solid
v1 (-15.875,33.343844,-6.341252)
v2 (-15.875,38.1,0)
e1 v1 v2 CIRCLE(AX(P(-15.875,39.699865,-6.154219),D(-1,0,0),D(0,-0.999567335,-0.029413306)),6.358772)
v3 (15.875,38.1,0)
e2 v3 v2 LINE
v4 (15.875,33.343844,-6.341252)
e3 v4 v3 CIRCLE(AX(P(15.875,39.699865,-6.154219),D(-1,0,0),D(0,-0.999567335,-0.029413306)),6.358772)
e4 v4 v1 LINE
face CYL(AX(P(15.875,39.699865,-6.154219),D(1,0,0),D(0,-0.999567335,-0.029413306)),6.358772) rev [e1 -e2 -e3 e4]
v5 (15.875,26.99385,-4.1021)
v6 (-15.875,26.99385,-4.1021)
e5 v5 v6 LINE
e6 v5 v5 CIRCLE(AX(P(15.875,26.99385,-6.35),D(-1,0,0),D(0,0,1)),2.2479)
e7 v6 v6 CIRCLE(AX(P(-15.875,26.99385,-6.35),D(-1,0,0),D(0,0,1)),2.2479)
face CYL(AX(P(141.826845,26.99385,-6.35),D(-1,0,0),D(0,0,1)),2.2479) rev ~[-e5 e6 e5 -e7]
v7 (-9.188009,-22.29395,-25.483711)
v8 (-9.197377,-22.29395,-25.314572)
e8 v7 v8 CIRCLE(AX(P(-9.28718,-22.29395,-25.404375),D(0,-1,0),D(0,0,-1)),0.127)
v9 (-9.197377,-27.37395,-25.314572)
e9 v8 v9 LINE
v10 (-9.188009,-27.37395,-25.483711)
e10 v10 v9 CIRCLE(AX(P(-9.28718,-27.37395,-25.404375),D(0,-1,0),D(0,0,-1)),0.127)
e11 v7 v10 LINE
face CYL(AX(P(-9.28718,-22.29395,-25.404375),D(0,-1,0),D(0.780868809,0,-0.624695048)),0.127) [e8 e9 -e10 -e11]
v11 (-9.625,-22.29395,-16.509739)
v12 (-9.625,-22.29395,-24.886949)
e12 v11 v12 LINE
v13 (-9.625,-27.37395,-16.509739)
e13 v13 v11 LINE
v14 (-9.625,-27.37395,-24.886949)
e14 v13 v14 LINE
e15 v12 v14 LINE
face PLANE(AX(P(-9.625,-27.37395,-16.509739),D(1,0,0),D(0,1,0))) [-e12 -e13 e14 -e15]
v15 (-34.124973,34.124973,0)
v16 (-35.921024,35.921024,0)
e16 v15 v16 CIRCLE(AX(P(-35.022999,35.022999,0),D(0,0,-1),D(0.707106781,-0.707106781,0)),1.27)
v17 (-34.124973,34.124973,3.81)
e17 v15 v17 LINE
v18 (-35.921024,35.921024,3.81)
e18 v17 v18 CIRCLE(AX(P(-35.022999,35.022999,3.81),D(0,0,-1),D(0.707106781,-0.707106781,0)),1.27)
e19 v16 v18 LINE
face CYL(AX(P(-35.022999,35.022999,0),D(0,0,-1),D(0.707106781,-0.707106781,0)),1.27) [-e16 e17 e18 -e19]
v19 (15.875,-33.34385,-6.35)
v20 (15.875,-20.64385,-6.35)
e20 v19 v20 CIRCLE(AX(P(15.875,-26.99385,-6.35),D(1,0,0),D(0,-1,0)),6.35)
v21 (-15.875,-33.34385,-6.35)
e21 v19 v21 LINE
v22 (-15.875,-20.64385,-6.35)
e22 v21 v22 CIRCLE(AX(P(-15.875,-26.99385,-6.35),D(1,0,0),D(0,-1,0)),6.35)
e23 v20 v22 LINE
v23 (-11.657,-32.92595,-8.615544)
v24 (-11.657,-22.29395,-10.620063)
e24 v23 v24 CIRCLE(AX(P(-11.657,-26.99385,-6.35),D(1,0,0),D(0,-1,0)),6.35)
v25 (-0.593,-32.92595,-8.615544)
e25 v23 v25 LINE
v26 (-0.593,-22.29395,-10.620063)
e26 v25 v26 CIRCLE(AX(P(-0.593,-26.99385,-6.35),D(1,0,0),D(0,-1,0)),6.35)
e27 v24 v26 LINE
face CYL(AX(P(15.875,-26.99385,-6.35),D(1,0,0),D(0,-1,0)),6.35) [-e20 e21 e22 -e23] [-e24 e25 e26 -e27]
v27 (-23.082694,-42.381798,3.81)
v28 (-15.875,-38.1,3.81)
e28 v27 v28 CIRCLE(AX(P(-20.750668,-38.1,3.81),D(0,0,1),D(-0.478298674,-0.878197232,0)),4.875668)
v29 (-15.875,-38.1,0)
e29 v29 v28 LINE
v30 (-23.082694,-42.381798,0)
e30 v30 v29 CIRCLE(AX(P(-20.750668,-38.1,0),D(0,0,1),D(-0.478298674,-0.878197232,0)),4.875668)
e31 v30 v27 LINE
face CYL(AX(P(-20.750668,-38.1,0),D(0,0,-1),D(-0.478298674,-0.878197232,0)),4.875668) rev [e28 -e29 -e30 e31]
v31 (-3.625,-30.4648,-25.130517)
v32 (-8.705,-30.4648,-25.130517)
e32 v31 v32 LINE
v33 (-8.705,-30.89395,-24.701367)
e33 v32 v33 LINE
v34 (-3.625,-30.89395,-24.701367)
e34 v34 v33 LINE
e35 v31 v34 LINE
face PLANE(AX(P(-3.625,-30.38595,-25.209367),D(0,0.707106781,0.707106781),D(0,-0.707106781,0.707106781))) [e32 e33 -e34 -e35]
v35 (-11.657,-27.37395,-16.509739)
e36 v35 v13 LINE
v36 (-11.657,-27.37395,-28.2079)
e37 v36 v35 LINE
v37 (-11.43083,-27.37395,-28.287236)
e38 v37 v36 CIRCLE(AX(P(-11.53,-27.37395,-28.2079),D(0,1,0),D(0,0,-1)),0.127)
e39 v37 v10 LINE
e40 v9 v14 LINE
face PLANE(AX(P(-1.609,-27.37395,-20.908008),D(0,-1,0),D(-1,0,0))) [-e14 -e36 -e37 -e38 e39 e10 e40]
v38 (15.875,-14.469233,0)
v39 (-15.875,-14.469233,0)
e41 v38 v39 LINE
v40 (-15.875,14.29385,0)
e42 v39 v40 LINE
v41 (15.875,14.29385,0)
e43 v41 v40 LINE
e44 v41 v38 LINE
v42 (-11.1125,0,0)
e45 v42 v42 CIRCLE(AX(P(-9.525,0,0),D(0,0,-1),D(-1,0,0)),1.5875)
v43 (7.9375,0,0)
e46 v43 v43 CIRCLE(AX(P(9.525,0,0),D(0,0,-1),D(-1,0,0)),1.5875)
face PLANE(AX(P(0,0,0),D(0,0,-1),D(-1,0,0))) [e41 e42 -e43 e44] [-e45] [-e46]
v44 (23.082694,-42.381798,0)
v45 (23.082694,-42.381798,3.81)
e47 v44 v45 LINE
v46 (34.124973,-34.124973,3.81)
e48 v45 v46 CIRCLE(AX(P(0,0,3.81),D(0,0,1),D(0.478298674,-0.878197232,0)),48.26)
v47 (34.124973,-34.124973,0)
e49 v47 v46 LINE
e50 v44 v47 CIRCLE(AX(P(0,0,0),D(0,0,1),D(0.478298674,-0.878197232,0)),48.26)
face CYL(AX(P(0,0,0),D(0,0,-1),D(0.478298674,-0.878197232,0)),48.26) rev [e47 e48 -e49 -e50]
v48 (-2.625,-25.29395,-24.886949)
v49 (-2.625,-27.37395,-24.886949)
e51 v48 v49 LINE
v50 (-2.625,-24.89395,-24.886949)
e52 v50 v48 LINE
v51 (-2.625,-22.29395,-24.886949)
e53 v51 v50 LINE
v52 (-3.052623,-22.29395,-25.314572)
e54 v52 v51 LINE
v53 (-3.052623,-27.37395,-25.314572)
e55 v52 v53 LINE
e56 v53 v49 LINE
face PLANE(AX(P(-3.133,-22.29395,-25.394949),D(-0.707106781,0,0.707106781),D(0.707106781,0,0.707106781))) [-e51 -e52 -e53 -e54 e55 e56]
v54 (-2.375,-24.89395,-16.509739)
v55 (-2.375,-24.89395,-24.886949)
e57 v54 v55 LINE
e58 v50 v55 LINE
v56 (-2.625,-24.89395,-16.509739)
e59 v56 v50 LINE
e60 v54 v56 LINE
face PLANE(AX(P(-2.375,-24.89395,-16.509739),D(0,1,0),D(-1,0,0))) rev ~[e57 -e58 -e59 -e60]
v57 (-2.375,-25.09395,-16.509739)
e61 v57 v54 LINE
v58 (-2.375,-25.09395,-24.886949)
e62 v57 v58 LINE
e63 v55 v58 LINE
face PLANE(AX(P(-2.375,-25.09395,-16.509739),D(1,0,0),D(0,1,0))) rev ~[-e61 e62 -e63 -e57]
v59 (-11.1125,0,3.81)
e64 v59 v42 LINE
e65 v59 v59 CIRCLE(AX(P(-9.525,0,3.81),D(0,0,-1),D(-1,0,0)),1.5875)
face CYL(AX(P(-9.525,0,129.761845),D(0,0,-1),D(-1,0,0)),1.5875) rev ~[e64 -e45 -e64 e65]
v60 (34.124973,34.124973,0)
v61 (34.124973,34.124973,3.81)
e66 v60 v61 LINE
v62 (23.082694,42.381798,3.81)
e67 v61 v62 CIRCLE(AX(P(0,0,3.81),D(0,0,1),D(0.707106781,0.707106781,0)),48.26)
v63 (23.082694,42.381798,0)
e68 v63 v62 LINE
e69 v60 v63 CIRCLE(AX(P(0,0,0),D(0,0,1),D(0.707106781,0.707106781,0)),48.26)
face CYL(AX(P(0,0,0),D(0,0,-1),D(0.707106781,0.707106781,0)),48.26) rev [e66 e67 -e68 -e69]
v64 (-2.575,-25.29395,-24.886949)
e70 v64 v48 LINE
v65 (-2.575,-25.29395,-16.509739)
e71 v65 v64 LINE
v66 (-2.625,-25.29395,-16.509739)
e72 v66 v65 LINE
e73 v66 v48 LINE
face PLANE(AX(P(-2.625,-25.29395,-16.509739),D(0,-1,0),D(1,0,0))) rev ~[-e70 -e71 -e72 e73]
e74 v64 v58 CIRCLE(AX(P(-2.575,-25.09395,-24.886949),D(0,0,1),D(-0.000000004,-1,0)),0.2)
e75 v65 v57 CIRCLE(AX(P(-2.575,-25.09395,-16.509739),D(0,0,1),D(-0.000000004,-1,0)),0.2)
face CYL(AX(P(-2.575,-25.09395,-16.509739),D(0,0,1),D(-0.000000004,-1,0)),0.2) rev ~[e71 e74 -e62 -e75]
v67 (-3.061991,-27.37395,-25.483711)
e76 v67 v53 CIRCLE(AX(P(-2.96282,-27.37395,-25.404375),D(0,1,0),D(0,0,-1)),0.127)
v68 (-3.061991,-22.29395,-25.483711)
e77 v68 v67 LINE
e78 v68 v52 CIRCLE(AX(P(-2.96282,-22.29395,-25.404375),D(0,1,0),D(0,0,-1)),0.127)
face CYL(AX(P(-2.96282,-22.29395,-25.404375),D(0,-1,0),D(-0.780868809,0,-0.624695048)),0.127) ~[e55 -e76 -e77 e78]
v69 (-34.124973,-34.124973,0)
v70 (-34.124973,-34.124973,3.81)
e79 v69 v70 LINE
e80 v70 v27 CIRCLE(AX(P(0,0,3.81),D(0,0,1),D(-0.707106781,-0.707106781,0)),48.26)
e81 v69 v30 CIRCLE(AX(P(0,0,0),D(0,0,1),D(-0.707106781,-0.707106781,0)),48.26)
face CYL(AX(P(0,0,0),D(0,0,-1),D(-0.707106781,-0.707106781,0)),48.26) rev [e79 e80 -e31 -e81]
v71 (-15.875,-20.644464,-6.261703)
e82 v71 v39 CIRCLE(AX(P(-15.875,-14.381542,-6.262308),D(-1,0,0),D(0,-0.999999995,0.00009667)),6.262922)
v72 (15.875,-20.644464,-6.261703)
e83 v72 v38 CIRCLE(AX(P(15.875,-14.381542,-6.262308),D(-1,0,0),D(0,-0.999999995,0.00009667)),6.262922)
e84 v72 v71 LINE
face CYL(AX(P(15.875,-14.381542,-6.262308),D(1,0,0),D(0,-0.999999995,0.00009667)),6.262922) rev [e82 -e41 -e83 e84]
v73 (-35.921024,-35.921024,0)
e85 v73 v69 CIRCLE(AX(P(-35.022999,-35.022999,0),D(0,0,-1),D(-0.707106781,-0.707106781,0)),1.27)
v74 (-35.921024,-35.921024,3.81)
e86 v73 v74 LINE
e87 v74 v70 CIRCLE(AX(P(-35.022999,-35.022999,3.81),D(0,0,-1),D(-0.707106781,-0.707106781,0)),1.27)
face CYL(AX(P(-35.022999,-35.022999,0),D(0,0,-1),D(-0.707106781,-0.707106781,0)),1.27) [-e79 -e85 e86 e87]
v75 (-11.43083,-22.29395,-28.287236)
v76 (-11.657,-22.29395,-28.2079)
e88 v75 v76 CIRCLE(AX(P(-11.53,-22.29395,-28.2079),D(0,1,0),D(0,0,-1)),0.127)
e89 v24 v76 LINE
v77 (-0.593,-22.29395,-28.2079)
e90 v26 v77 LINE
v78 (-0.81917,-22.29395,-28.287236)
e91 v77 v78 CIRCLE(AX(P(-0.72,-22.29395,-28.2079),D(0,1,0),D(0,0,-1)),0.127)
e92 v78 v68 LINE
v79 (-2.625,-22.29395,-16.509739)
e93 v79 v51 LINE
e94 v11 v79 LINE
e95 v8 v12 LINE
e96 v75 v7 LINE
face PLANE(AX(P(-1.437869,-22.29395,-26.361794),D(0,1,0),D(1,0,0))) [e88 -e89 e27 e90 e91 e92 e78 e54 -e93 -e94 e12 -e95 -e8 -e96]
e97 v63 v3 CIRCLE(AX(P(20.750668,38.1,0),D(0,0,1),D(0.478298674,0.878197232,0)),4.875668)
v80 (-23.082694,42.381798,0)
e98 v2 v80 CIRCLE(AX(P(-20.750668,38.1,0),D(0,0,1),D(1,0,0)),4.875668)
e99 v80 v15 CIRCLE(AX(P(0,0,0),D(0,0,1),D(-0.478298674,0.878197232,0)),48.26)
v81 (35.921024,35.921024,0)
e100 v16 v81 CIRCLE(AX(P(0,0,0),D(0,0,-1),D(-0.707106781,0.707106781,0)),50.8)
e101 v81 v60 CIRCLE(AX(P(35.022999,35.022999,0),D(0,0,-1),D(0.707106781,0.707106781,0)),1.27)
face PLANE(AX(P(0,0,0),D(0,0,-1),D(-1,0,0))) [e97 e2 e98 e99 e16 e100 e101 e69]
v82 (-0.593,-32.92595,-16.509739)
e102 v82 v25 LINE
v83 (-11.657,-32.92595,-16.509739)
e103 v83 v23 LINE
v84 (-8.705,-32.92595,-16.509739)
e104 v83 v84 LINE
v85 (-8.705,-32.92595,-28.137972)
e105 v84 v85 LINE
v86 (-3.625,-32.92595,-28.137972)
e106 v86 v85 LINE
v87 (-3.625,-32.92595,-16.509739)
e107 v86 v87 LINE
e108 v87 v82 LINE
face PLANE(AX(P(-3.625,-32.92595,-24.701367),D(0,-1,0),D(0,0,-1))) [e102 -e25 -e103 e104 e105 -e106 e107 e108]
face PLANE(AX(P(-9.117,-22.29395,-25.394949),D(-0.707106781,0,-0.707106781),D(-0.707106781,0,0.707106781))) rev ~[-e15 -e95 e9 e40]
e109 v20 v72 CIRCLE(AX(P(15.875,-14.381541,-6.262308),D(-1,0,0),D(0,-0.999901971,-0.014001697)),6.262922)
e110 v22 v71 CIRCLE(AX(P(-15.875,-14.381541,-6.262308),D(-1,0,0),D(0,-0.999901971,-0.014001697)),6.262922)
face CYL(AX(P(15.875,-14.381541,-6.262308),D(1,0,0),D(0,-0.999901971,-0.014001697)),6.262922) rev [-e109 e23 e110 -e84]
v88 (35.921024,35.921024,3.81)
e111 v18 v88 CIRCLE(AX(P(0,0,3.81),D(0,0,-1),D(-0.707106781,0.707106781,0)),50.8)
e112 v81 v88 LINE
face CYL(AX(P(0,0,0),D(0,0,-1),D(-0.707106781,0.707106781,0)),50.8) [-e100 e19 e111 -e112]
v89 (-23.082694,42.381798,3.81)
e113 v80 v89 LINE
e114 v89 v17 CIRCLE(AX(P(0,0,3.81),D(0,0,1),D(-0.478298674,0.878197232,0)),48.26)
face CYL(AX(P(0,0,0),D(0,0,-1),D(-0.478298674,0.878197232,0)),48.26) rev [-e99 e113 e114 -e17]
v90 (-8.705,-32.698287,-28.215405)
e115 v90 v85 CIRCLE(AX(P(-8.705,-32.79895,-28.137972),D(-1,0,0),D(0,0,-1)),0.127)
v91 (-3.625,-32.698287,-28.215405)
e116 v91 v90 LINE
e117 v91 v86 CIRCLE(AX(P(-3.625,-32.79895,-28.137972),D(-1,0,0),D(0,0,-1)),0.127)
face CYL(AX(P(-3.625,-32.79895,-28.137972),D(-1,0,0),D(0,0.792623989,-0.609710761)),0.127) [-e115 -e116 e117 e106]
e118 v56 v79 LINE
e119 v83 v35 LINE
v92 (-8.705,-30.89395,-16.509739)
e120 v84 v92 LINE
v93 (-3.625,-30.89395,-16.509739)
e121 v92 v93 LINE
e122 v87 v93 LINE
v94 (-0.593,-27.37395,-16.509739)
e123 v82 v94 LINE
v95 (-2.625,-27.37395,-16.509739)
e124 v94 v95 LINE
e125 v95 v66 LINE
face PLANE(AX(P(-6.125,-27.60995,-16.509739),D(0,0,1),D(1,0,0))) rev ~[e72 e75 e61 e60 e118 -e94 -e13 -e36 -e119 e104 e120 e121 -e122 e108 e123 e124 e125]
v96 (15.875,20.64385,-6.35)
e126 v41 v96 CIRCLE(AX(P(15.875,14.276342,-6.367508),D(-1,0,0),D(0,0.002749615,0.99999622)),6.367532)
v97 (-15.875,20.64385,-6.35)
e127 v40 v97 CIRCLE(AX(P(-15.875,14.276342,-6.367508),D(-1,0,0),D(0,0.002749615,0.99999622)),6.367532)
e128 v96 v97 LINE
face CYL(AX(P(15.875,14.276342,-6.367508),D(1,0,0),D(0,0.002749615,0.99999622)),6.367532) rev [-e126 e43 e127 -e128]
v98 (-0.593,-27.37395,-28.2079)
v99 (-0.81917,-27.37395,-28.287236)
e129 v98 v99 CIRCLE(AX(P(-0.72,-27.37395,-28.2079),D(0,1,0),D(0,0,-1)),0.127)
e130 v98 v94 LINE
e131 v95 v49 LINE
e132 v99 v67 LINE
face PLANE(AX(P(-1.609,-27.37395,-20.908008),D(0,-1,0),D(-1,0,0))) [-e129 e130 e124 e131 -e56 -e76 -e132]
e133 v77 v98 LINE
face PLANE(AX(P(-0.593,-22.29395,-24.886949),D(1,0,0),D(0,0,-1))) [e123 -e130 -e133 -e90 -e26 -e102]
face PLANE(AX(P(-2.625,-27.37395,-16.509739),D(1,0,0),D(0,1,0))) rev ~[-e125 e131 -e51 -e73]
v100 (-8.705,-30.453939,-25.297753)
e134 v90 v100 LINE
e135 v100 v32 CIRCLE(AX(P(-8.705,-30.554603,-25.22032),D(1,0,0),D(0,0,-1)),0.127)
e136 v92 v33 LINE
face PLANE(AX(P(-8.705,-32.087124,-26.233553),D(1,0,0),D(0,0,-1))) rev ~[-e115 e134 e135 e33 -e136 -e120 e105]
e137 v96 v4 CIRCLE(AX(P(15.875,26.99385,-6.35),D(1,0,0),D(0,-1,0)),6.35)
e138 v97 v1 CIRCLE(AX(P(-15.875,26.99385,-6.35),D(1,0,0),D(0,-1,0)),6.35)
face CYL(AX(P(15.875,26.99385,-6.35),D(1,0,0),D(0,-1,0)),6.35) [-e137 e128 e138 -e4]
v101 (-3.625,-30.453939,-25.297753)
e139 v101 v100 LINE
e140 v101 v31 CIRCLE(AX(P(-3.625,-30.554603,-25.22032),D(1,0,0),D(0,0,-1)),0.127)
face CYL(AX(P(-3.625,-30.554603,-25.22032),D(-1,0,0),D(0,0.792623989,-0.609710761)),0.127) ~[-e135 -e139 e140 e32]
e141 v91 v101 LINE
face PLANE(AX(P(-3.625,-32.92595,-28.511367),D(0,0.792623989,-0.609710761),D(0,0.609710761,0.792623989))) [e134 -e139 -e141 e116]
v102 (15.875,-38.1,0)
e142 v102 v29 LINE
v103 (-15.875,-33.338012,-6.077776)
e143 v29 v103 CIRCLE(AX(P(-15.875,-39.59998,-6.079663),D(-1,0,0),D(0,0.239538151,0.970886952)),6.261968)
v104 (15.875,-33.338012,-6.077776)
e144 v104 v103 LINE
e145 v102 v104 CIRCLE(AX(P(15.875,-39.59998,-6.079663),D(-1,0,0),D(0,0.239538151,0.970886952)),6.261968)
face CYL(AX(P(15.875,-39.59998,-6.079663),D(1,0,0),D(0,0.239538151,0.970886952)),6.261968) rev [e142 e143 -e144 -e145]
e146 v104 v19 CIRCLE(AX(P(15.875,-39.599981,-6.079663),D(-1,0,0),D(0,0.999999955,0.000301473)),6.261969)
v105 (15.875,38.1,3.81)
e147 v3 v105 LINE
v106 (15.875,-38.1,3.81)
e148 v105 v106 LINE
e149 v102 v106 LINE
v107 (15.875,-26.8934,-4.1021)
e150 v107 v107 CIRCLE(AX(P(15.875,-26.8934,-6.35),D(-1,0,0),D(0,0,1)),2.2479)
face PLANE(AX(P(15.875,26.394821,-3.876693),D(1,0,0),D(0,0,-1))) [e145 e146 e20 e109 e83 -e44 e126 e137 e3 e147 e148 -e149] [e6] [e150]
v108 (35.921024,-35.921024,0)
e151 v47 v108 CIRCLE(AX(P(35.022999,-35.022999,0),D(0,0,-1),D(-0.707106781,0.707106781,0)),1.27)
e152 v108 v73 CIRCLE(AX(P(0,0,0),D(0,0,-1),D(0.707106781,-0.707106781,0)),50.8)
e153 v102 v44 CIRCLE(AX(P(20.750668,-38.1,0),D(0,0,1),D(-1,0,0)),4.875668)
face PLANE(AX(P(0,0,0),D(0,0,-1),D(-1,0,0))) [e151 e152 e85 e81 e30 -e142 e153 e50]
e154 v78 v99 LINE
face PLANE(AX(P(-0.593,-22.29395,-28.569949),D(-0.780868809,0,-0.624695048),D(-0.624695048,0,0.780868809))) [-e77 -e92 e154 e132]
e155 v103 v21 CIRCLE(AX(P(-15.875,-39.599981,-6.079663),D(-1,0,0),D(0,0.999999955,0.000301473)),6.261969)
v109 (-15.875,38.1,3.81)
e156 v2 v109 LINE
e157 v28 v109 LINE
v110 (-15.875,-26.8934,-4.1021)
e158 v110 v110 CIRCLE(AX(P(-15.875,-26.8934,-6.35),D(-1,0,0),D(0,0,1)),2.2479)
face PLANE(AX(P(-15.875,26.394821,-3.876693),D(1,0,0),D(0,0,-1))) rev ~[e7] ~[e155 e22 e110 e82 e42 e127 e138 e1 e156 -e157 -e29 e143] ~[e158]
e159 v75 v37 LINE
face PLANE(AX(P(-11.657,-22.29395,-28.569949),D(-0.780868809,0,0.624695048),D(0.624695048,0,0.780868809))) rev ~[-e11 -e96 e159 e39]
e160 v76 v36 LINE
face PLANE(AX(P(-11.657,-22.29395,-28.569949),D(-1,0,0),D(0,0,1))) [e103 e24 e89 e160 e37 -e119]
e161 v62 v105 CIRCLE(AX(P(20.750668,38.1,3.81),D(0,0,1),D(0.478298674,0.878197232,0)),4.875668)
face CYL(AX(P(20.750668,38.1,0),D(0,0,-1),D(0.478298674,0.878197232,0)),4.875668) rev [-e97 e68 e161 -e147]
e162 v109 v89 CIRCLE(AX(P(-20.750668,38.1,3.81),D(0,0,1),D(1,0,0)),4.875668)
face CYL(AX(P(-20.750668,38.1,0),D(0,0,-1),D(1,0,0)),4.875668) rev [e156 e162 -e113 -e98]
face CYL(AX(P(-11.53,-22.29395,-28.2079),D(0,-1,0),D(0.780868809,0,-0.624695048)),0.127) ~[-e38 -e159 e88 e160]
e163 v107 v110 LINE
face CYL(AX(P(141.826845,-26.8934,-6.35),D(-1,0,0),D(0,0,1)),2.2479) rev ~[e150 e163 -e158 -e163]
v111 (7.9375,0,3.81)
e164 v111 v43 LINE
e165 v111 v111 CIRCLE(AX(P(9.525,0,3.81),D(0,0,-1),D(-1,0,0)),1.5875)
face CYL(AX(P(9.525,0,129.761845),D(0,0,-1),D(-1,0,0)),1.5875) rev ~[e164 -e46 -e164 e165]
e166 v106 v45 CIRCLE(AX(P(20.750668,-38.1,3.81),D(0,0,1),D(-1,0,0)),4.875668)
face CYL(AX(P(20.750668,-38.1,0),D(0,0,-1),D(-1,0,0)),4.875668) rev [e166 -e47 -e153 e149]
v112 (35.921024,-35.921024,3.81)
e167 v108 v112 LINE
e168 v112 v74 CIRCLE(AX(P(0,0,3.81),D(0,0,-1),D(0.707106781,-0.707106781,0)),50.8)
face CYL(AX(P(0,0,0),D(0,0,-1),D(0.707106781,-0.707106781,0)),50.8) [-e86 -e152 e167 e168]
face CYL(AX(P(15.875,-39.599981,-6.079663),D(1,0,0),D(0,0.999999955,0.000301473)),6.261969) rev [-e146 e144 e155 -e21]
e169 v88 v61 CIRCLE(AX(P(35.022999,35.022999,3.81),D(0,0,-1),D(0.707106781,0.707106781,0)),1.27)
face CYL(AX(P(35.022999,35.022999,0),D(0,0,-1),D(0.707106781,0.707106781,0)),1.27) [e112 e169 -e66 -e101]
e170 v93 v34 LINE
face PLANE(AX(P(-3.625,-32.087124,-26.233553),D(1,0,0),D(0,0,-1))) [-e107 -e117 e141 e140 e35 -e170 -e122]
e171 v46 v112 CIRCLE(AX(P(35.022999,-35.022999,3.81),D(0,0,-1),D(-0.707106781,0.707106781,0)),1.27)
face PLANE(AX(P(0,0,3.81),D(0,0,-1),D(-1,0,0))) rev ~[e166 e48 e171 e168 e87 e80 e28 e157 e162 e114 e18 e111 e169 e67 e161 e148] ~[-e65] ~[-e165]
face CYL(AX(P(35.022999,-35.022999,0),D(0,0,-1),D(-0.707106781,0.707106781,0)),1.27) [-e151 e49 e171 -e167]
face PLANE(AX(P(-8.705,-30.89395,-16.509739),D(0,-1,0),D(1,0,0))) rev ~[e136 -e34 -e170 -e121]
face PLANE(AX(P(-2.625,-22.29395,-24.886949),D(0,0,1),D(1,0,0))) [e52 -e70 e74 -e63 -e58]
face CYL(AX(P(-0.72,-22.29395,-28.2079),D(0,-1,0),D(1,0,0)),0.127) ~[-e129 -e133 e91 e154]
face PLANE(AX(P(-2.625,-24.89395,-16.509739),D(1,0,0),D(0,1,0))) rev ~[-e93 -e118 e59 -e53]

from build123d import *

# Parameters (mm, degrees)
BOSS_EXTRUDE2_DEPTH                 = 3.81
BOSS_EXTRUDE4_DEPTH                 = 31.75
F_8_CLEARANCE_HOLE1_D               = 4.4958
PARACHUTE_SHROUD_HOLE_LOW_PROFILE_D = 3.175
MONOFILAMENT_HOLE_LOW_PROFILE_D     = 3.175
BOSS_EXTRUDE7_REACH                 = 67.656
SKETCH21_W                          = 2.032
SKETCH21_H                          = 5.08
SKETCH21_W_2                        = 5.08
SKETCH21_H_2                        = 2.032
SKETCH22_W                          = 11.064
SKETCH22_H                          = 10.632
BOSS_EXTRUDE8_DEPTH                 = 7.894195
BOSS_EXTRUDE9_REACH                 = 87.468
BOSS_EXTRUDE10_DEPTH                = 5.08
FILLET3_R                           = 0.127


with BuildPart() as part:
    # Sketch3 → Boss-Extrude2 (new body)
    with BuildSketch(Plane.XY):
        with BuildLine():
            Line((-15.875, -38.1), (-15.875, 38.1))
            ThreePointArc((-15.875, 38.1), (-18.260491841, 42.291797068), (-23.082694008, 42.38179842))
            ThreePointArc((-23.082694008, 42.38179842), (-28.900226452, 38.649767283), (-34.12497326, 34.12497326))
            ThreePointArc((-34.12497326, 34.12497326), (-35.921024484, 34.12497326), (-35.921024484, 35.921024484))
            ThreePointArc((-35.921024484, 35.921024484), (0, 50.8), (35.921024484, 35.921024484))
            ThreePointArc((35.921024484, 35.921024484), (35.921024484, 34.12497326), (34.12497326, 34.12497326))
            ThreePointArc((34.12497326, 34.12497326), (28.900226452, 38.649767283), (23.082694008, 42.38179842))
            ThreePointArc((23.082694008, 42.38179842), (18.260491841, 42.291797068), (15.875, 38.1))
            Line((15.875, 38.1), (15.875, -38.1))
            ThreePointArc((15.875, -38.1), (18.260491841, -42.291797068), (23.082694008, -42.38179842))
            ThreePointArc((23.082694008, -42.38179842), (28.900226452, -38.649767283), (34.12497326, -34.12497326))
            ThreePointArc((34.12497326, -34.12497326), (35.921024484, -34.12497326), (35.921024484, -35.921024484))
            ThreePointArc((35.921024484, -35.921024484), (0, -50.8), (-35.921024484, -35.921024484))
            ThreePointArc((-35.921024484, -35.921024484), (-35.921024484, -34.12497326), (-34.12497326, -34.12497326))
            ThreePointArc((-34.12497326, -34.12497326), (-28.900226452, -38.649767283), (-23.082694008, -42.38179842))
            ThreePointArc((-23.082694008, -42.38179842), (-18.260491841, -42.291797068), (-15.875, -38.1))
        make_face()
    extrude(amount=BOSS_EXTRUDE2_DEPTH)

    # Sketch5 → Boss-Extrude4 (add)
    with BuildSketch(Plane(origin=(15.875, 0, 0), x_dir=(0, 0, -1), z_dir=(1, 0, 0))):
        with BuildLine():
            Line((0, 38.1), (0, 26.99385))
            Line((0, 26.99385), (0, 14.29385))
            ThreePointArc((0, 14.29385), (1.86498297, 18.77886703), (6.35, 20.64385))
            ThreePointArc((6.35, 20.64385), (12.699998494, 26.998224058), (6.341251887, 33.343843974))
            ThreePointArc((6.341251887, 33.343843974), (2.338844583, 34.612930799), (0, 38.1))
        make_face()
        with BuildLine():
            ThreePointArc((6.261703048, -20.644463916), (1.864650947, -18.840779739), (0, -14.469233029))
            Line((0, -14.469233029), (0, -26.99385))
            Line((0, -26.99385), (0, -38.1))
            ThreePointArc((0, -38.1), (2.217611083, -34.670801888), (6.077775616, -33.338012189))
            ThreePointArc((6.077775616, -33.338012189), (6.213919542, -33.33945129), (6.35, -33.34385))
            ThreePointArc((6.35, -33.34385), (12.7, -26.99385), (6.35, -20.64385))
            ThreePointArc((6.35, -20.64385), (6.305852606, -20.644312569), (6.261703048, -20.644463916))
        make_face()
    extrude(amount=-BOSS_EXTRUDE4_DEPTH)

    # 8 Clearance Hole1 (through all)
    with Locations(Plane(origin=(15.875, 0, 0), x_dir=(0, 0, -1), z_dir=(1, 0, 0))):
        with Locations((6.35, 26.99385), (6.35, -26.893399733)):
            Hole(F_8_CLEARANCE_HOLE1_D / 2)

    # Parachute shroud hole _low profile (through all)
    with Locations(Plane.XY.offset(3.81)):
        with Locations((-9.525, 0)):
            Hole(PARACHUTE_SHROUD_HOLE_LOW_PROFILE_D / 2)

    # Monofilament hole _low profile (through all)
    with Locations(Plane.XY.offset(3.81)):
        with Locations((9.525, 0)):
            Hole(MONOFILAMENT_HOLE_LOW_PROFILE_D / 2)



with BuildPart() as body_2:
    # Boss-Extrude7: up to this plane
    boss_extrude7_end = Plane(origin=(-1.6499976, -20.290855187, -25.429913438), z_dir=(0, 0.01745240643728808, 0.9998476951563912))
    # Sketch21 → Boss-Extrude7 (new, up to the surface)
    with BuildSketch(Plane.XY.offset(-16.509739), mode=Mode.PRIVATE) as boss_extrude7_sk1:
        with BuildLine():
            Line((-2.625, -22.293950072), (-0.593, -22.293950072))
            Line((-0.593, -22.293950072), (-0.593, -27.373950072))
            Line((-0.593, -27.373950072), (-2.625, -27.373950072))
            Line((-2.625, -27.373950072), (-2.625, -25.293950072))
            Line((-2.625, -25.293950072), (-2.575, -25.293950072))
            ThreePointArc((-2.575, -25.293950072), (-2.433578644, -25.235371429), (-2.375, -25.093950072))
            Line((-2.375, -25.093950072), (-2.375, -24.893950072))
            Line((-2.375, -24.893950072), (-2.625, -24.893950072))
            Line((-2.625, -24.893950072), (-2.625, -22.293950072))
        make_face()
    boss_extrude7_tool1 = split(extrude(boss_extrude7_sk1.sketch, amount=-BOSS_EXTRUDE7_REACH, mode=Mode.PRIVATE), bisect_by=boss_extrude7_end, keep=Keep.BOTH, mode=Mode.PRIVATE)
    add(boss_extrude7_tool1.solids().sort_by_distance((-1.600971, -24.831757, -16.509739))[0])
    # Sketch21 → Boss-Extrude7 (new, up to the surface)
    with BuildSketch(Plane.XY.offset(-16.509739), mode=Mode.PRIVATE) as boss_extrude7_sk2:
        with Locations((-10.641, -24.833950072)):
            Rectangle(SKETCH21_W, SKETCH21_H)
    boss_extrude7_tool2 = split(extrude(boss_extrude7_sk2.sketch, amount=-BOSS_EXTRUDE7_REACH, mode=Mode.PRIVATE), bisect_by=boss_extrude7_end, keep=Keep.BOTH, mode=Mode.PRIVATE)
    add(boss_extrude7_tool2.solids().sort_by_distance((-10.641, -24.83395, -16.509739))[0])
    # Sketch21 → Boss-Extrude7 (new, up to the surface)
    with BuildSketch(Plane.XY.offset(-16.509739), mode=Mode.PRIVATE) as boss_extrude7_sk3:
        with Locations((-6.165, -31.909950072)):
            Rectangle(SKETCH21_W_2, SKETCH21_H_2)
    boss_extrude7_tool3 = split(extrude(boss_extrude7_sk3.sketch, amount=-BOSS_EXTRUDE7_REACH, mode=Mode.PRIVATE), bisect_by=boss_extrude7_end, keep=Keep.BOTH, mode=Mode.PRIVATE)
    add(boss_extrude7_tool3.solids().sort_by_distance((-6.165, -31.90995, -16.509739))[0])


with BuildPart() as part_1:
    add(part.part)

    add(body_2.part)  # Boss-Extrude8 merges body 2
    # Sketch22 → Boss-Extrude8 (add)
    with BuildSketch(Plane.XY.offset(-16.509739)):
        with Locations((-6.125, -27.609950072)):
            Rectangle(SKETCH22_W, SKETCH22_H)
    extrude(amount=BOSS_EXTRUDE8_DEPTH)

    # Boss-Extrude9: up to this face of the body (flat: up to its plane)
    boss_extrude9_end = Plane(part_1.part.faces().sort_by_distance((-1.609, -27.373950072, -20.908008278))[0])
    # Sketch23 → Boss-Extrude9 (add, up to the picked face)
    with BuildSketch(Plane(origin=(0, -22.293950072, 0), x_dir=(1, 0, 0), z_dir=(0, 1, 0)), mode=Mode.PRIVATE) as boss_extrude9_sk1:
        Polygon((-11.657, 25.394949287), (-11.657, 28.569949287), (-9.117, 25.394949287), (-9.625, 24.886949287), (-11.657, 24.886949287), align=None)
    boss_extrude9_tool1 = split(extrude(boss_extrude9_sk1.sketch, amount=-BOSS_EXTRUDE9_REACH, mode=Mode.PRIVATE), bisect_by=boss_extrude9_end, keep=Keep.BOTH, mode=Mode.PRIVATE)
    # Sketch23 → Boss-Extrude9 (add, up to the picked face)
    with BuildSketch(Plane(origin=(0, -22.293950072, 0), x_dir=(1, 0, 0), z_dir=(0, 1, 0)), mode=Mode.PRIVATE) as boss_extrude9_sk2:
        Polygon((-0.593, 25.394949287), (-0.593, 28.569949287), (-3.133, 25.394949287), (-2.625, 24.886949287), (-0.593, 24.886949287), align=None)
    boss_extrude9_tool2 = split(extrude(boss_extrude9_sk2.sketch, amount=-BOSS_EXTRUDE9_REACH, mode=Mode.PRIVATE), bisect_by=boss_extrude9_end, keep=Keep.BOTH, mode=Mode.PRIVATE)
    add(boss_extrude9_tool1.solids().sort_by(Axis((-10.743021, -22.29395, -26.161945), (0, -1, 0)))[0])
    add(boss_extrude9_tool2.solids().sort_by(Axis((-1.506979, -22.29395, -26.161945), (0, -1, 0)))[0])

    # Sketch25 → Boss-Extrude10 (add)
    with BuildSketch(Plane(origin=(-3.625, 0, 0), x_dir=(0, 0, -1), z_dir=(1, 0, 0))):
        Polygon((25.209367036, -32.925950072), (28.511367036, -32.925950072), (25.209367036, -30.385950072), (24.701367036, -30.893950072), (24.701367036, -32.925950072), align=None)
    extrude(amount=-BOSS_EXTRUDE10_DEPTH)

    # Fillet3
    fillet3_edges = [part_1.edges().sort_by_distance(p)[0] for p in [
        (-9.117, -24.833950072, -25.394949287),
        (-11.657, -24.833950072, -28.569949287),
        (-0.593, -24.833950072, -28.569949287),
        (-3.133, -24.833950072, -25.394949287),
        (-6.165, -32.925950072, -28.511367036),
        (-6.165, -30.385950072, -25.209367036),
    ]]
    fillet(fillet3_edges, radius=FILLET3_R)


solid = part_1.part
